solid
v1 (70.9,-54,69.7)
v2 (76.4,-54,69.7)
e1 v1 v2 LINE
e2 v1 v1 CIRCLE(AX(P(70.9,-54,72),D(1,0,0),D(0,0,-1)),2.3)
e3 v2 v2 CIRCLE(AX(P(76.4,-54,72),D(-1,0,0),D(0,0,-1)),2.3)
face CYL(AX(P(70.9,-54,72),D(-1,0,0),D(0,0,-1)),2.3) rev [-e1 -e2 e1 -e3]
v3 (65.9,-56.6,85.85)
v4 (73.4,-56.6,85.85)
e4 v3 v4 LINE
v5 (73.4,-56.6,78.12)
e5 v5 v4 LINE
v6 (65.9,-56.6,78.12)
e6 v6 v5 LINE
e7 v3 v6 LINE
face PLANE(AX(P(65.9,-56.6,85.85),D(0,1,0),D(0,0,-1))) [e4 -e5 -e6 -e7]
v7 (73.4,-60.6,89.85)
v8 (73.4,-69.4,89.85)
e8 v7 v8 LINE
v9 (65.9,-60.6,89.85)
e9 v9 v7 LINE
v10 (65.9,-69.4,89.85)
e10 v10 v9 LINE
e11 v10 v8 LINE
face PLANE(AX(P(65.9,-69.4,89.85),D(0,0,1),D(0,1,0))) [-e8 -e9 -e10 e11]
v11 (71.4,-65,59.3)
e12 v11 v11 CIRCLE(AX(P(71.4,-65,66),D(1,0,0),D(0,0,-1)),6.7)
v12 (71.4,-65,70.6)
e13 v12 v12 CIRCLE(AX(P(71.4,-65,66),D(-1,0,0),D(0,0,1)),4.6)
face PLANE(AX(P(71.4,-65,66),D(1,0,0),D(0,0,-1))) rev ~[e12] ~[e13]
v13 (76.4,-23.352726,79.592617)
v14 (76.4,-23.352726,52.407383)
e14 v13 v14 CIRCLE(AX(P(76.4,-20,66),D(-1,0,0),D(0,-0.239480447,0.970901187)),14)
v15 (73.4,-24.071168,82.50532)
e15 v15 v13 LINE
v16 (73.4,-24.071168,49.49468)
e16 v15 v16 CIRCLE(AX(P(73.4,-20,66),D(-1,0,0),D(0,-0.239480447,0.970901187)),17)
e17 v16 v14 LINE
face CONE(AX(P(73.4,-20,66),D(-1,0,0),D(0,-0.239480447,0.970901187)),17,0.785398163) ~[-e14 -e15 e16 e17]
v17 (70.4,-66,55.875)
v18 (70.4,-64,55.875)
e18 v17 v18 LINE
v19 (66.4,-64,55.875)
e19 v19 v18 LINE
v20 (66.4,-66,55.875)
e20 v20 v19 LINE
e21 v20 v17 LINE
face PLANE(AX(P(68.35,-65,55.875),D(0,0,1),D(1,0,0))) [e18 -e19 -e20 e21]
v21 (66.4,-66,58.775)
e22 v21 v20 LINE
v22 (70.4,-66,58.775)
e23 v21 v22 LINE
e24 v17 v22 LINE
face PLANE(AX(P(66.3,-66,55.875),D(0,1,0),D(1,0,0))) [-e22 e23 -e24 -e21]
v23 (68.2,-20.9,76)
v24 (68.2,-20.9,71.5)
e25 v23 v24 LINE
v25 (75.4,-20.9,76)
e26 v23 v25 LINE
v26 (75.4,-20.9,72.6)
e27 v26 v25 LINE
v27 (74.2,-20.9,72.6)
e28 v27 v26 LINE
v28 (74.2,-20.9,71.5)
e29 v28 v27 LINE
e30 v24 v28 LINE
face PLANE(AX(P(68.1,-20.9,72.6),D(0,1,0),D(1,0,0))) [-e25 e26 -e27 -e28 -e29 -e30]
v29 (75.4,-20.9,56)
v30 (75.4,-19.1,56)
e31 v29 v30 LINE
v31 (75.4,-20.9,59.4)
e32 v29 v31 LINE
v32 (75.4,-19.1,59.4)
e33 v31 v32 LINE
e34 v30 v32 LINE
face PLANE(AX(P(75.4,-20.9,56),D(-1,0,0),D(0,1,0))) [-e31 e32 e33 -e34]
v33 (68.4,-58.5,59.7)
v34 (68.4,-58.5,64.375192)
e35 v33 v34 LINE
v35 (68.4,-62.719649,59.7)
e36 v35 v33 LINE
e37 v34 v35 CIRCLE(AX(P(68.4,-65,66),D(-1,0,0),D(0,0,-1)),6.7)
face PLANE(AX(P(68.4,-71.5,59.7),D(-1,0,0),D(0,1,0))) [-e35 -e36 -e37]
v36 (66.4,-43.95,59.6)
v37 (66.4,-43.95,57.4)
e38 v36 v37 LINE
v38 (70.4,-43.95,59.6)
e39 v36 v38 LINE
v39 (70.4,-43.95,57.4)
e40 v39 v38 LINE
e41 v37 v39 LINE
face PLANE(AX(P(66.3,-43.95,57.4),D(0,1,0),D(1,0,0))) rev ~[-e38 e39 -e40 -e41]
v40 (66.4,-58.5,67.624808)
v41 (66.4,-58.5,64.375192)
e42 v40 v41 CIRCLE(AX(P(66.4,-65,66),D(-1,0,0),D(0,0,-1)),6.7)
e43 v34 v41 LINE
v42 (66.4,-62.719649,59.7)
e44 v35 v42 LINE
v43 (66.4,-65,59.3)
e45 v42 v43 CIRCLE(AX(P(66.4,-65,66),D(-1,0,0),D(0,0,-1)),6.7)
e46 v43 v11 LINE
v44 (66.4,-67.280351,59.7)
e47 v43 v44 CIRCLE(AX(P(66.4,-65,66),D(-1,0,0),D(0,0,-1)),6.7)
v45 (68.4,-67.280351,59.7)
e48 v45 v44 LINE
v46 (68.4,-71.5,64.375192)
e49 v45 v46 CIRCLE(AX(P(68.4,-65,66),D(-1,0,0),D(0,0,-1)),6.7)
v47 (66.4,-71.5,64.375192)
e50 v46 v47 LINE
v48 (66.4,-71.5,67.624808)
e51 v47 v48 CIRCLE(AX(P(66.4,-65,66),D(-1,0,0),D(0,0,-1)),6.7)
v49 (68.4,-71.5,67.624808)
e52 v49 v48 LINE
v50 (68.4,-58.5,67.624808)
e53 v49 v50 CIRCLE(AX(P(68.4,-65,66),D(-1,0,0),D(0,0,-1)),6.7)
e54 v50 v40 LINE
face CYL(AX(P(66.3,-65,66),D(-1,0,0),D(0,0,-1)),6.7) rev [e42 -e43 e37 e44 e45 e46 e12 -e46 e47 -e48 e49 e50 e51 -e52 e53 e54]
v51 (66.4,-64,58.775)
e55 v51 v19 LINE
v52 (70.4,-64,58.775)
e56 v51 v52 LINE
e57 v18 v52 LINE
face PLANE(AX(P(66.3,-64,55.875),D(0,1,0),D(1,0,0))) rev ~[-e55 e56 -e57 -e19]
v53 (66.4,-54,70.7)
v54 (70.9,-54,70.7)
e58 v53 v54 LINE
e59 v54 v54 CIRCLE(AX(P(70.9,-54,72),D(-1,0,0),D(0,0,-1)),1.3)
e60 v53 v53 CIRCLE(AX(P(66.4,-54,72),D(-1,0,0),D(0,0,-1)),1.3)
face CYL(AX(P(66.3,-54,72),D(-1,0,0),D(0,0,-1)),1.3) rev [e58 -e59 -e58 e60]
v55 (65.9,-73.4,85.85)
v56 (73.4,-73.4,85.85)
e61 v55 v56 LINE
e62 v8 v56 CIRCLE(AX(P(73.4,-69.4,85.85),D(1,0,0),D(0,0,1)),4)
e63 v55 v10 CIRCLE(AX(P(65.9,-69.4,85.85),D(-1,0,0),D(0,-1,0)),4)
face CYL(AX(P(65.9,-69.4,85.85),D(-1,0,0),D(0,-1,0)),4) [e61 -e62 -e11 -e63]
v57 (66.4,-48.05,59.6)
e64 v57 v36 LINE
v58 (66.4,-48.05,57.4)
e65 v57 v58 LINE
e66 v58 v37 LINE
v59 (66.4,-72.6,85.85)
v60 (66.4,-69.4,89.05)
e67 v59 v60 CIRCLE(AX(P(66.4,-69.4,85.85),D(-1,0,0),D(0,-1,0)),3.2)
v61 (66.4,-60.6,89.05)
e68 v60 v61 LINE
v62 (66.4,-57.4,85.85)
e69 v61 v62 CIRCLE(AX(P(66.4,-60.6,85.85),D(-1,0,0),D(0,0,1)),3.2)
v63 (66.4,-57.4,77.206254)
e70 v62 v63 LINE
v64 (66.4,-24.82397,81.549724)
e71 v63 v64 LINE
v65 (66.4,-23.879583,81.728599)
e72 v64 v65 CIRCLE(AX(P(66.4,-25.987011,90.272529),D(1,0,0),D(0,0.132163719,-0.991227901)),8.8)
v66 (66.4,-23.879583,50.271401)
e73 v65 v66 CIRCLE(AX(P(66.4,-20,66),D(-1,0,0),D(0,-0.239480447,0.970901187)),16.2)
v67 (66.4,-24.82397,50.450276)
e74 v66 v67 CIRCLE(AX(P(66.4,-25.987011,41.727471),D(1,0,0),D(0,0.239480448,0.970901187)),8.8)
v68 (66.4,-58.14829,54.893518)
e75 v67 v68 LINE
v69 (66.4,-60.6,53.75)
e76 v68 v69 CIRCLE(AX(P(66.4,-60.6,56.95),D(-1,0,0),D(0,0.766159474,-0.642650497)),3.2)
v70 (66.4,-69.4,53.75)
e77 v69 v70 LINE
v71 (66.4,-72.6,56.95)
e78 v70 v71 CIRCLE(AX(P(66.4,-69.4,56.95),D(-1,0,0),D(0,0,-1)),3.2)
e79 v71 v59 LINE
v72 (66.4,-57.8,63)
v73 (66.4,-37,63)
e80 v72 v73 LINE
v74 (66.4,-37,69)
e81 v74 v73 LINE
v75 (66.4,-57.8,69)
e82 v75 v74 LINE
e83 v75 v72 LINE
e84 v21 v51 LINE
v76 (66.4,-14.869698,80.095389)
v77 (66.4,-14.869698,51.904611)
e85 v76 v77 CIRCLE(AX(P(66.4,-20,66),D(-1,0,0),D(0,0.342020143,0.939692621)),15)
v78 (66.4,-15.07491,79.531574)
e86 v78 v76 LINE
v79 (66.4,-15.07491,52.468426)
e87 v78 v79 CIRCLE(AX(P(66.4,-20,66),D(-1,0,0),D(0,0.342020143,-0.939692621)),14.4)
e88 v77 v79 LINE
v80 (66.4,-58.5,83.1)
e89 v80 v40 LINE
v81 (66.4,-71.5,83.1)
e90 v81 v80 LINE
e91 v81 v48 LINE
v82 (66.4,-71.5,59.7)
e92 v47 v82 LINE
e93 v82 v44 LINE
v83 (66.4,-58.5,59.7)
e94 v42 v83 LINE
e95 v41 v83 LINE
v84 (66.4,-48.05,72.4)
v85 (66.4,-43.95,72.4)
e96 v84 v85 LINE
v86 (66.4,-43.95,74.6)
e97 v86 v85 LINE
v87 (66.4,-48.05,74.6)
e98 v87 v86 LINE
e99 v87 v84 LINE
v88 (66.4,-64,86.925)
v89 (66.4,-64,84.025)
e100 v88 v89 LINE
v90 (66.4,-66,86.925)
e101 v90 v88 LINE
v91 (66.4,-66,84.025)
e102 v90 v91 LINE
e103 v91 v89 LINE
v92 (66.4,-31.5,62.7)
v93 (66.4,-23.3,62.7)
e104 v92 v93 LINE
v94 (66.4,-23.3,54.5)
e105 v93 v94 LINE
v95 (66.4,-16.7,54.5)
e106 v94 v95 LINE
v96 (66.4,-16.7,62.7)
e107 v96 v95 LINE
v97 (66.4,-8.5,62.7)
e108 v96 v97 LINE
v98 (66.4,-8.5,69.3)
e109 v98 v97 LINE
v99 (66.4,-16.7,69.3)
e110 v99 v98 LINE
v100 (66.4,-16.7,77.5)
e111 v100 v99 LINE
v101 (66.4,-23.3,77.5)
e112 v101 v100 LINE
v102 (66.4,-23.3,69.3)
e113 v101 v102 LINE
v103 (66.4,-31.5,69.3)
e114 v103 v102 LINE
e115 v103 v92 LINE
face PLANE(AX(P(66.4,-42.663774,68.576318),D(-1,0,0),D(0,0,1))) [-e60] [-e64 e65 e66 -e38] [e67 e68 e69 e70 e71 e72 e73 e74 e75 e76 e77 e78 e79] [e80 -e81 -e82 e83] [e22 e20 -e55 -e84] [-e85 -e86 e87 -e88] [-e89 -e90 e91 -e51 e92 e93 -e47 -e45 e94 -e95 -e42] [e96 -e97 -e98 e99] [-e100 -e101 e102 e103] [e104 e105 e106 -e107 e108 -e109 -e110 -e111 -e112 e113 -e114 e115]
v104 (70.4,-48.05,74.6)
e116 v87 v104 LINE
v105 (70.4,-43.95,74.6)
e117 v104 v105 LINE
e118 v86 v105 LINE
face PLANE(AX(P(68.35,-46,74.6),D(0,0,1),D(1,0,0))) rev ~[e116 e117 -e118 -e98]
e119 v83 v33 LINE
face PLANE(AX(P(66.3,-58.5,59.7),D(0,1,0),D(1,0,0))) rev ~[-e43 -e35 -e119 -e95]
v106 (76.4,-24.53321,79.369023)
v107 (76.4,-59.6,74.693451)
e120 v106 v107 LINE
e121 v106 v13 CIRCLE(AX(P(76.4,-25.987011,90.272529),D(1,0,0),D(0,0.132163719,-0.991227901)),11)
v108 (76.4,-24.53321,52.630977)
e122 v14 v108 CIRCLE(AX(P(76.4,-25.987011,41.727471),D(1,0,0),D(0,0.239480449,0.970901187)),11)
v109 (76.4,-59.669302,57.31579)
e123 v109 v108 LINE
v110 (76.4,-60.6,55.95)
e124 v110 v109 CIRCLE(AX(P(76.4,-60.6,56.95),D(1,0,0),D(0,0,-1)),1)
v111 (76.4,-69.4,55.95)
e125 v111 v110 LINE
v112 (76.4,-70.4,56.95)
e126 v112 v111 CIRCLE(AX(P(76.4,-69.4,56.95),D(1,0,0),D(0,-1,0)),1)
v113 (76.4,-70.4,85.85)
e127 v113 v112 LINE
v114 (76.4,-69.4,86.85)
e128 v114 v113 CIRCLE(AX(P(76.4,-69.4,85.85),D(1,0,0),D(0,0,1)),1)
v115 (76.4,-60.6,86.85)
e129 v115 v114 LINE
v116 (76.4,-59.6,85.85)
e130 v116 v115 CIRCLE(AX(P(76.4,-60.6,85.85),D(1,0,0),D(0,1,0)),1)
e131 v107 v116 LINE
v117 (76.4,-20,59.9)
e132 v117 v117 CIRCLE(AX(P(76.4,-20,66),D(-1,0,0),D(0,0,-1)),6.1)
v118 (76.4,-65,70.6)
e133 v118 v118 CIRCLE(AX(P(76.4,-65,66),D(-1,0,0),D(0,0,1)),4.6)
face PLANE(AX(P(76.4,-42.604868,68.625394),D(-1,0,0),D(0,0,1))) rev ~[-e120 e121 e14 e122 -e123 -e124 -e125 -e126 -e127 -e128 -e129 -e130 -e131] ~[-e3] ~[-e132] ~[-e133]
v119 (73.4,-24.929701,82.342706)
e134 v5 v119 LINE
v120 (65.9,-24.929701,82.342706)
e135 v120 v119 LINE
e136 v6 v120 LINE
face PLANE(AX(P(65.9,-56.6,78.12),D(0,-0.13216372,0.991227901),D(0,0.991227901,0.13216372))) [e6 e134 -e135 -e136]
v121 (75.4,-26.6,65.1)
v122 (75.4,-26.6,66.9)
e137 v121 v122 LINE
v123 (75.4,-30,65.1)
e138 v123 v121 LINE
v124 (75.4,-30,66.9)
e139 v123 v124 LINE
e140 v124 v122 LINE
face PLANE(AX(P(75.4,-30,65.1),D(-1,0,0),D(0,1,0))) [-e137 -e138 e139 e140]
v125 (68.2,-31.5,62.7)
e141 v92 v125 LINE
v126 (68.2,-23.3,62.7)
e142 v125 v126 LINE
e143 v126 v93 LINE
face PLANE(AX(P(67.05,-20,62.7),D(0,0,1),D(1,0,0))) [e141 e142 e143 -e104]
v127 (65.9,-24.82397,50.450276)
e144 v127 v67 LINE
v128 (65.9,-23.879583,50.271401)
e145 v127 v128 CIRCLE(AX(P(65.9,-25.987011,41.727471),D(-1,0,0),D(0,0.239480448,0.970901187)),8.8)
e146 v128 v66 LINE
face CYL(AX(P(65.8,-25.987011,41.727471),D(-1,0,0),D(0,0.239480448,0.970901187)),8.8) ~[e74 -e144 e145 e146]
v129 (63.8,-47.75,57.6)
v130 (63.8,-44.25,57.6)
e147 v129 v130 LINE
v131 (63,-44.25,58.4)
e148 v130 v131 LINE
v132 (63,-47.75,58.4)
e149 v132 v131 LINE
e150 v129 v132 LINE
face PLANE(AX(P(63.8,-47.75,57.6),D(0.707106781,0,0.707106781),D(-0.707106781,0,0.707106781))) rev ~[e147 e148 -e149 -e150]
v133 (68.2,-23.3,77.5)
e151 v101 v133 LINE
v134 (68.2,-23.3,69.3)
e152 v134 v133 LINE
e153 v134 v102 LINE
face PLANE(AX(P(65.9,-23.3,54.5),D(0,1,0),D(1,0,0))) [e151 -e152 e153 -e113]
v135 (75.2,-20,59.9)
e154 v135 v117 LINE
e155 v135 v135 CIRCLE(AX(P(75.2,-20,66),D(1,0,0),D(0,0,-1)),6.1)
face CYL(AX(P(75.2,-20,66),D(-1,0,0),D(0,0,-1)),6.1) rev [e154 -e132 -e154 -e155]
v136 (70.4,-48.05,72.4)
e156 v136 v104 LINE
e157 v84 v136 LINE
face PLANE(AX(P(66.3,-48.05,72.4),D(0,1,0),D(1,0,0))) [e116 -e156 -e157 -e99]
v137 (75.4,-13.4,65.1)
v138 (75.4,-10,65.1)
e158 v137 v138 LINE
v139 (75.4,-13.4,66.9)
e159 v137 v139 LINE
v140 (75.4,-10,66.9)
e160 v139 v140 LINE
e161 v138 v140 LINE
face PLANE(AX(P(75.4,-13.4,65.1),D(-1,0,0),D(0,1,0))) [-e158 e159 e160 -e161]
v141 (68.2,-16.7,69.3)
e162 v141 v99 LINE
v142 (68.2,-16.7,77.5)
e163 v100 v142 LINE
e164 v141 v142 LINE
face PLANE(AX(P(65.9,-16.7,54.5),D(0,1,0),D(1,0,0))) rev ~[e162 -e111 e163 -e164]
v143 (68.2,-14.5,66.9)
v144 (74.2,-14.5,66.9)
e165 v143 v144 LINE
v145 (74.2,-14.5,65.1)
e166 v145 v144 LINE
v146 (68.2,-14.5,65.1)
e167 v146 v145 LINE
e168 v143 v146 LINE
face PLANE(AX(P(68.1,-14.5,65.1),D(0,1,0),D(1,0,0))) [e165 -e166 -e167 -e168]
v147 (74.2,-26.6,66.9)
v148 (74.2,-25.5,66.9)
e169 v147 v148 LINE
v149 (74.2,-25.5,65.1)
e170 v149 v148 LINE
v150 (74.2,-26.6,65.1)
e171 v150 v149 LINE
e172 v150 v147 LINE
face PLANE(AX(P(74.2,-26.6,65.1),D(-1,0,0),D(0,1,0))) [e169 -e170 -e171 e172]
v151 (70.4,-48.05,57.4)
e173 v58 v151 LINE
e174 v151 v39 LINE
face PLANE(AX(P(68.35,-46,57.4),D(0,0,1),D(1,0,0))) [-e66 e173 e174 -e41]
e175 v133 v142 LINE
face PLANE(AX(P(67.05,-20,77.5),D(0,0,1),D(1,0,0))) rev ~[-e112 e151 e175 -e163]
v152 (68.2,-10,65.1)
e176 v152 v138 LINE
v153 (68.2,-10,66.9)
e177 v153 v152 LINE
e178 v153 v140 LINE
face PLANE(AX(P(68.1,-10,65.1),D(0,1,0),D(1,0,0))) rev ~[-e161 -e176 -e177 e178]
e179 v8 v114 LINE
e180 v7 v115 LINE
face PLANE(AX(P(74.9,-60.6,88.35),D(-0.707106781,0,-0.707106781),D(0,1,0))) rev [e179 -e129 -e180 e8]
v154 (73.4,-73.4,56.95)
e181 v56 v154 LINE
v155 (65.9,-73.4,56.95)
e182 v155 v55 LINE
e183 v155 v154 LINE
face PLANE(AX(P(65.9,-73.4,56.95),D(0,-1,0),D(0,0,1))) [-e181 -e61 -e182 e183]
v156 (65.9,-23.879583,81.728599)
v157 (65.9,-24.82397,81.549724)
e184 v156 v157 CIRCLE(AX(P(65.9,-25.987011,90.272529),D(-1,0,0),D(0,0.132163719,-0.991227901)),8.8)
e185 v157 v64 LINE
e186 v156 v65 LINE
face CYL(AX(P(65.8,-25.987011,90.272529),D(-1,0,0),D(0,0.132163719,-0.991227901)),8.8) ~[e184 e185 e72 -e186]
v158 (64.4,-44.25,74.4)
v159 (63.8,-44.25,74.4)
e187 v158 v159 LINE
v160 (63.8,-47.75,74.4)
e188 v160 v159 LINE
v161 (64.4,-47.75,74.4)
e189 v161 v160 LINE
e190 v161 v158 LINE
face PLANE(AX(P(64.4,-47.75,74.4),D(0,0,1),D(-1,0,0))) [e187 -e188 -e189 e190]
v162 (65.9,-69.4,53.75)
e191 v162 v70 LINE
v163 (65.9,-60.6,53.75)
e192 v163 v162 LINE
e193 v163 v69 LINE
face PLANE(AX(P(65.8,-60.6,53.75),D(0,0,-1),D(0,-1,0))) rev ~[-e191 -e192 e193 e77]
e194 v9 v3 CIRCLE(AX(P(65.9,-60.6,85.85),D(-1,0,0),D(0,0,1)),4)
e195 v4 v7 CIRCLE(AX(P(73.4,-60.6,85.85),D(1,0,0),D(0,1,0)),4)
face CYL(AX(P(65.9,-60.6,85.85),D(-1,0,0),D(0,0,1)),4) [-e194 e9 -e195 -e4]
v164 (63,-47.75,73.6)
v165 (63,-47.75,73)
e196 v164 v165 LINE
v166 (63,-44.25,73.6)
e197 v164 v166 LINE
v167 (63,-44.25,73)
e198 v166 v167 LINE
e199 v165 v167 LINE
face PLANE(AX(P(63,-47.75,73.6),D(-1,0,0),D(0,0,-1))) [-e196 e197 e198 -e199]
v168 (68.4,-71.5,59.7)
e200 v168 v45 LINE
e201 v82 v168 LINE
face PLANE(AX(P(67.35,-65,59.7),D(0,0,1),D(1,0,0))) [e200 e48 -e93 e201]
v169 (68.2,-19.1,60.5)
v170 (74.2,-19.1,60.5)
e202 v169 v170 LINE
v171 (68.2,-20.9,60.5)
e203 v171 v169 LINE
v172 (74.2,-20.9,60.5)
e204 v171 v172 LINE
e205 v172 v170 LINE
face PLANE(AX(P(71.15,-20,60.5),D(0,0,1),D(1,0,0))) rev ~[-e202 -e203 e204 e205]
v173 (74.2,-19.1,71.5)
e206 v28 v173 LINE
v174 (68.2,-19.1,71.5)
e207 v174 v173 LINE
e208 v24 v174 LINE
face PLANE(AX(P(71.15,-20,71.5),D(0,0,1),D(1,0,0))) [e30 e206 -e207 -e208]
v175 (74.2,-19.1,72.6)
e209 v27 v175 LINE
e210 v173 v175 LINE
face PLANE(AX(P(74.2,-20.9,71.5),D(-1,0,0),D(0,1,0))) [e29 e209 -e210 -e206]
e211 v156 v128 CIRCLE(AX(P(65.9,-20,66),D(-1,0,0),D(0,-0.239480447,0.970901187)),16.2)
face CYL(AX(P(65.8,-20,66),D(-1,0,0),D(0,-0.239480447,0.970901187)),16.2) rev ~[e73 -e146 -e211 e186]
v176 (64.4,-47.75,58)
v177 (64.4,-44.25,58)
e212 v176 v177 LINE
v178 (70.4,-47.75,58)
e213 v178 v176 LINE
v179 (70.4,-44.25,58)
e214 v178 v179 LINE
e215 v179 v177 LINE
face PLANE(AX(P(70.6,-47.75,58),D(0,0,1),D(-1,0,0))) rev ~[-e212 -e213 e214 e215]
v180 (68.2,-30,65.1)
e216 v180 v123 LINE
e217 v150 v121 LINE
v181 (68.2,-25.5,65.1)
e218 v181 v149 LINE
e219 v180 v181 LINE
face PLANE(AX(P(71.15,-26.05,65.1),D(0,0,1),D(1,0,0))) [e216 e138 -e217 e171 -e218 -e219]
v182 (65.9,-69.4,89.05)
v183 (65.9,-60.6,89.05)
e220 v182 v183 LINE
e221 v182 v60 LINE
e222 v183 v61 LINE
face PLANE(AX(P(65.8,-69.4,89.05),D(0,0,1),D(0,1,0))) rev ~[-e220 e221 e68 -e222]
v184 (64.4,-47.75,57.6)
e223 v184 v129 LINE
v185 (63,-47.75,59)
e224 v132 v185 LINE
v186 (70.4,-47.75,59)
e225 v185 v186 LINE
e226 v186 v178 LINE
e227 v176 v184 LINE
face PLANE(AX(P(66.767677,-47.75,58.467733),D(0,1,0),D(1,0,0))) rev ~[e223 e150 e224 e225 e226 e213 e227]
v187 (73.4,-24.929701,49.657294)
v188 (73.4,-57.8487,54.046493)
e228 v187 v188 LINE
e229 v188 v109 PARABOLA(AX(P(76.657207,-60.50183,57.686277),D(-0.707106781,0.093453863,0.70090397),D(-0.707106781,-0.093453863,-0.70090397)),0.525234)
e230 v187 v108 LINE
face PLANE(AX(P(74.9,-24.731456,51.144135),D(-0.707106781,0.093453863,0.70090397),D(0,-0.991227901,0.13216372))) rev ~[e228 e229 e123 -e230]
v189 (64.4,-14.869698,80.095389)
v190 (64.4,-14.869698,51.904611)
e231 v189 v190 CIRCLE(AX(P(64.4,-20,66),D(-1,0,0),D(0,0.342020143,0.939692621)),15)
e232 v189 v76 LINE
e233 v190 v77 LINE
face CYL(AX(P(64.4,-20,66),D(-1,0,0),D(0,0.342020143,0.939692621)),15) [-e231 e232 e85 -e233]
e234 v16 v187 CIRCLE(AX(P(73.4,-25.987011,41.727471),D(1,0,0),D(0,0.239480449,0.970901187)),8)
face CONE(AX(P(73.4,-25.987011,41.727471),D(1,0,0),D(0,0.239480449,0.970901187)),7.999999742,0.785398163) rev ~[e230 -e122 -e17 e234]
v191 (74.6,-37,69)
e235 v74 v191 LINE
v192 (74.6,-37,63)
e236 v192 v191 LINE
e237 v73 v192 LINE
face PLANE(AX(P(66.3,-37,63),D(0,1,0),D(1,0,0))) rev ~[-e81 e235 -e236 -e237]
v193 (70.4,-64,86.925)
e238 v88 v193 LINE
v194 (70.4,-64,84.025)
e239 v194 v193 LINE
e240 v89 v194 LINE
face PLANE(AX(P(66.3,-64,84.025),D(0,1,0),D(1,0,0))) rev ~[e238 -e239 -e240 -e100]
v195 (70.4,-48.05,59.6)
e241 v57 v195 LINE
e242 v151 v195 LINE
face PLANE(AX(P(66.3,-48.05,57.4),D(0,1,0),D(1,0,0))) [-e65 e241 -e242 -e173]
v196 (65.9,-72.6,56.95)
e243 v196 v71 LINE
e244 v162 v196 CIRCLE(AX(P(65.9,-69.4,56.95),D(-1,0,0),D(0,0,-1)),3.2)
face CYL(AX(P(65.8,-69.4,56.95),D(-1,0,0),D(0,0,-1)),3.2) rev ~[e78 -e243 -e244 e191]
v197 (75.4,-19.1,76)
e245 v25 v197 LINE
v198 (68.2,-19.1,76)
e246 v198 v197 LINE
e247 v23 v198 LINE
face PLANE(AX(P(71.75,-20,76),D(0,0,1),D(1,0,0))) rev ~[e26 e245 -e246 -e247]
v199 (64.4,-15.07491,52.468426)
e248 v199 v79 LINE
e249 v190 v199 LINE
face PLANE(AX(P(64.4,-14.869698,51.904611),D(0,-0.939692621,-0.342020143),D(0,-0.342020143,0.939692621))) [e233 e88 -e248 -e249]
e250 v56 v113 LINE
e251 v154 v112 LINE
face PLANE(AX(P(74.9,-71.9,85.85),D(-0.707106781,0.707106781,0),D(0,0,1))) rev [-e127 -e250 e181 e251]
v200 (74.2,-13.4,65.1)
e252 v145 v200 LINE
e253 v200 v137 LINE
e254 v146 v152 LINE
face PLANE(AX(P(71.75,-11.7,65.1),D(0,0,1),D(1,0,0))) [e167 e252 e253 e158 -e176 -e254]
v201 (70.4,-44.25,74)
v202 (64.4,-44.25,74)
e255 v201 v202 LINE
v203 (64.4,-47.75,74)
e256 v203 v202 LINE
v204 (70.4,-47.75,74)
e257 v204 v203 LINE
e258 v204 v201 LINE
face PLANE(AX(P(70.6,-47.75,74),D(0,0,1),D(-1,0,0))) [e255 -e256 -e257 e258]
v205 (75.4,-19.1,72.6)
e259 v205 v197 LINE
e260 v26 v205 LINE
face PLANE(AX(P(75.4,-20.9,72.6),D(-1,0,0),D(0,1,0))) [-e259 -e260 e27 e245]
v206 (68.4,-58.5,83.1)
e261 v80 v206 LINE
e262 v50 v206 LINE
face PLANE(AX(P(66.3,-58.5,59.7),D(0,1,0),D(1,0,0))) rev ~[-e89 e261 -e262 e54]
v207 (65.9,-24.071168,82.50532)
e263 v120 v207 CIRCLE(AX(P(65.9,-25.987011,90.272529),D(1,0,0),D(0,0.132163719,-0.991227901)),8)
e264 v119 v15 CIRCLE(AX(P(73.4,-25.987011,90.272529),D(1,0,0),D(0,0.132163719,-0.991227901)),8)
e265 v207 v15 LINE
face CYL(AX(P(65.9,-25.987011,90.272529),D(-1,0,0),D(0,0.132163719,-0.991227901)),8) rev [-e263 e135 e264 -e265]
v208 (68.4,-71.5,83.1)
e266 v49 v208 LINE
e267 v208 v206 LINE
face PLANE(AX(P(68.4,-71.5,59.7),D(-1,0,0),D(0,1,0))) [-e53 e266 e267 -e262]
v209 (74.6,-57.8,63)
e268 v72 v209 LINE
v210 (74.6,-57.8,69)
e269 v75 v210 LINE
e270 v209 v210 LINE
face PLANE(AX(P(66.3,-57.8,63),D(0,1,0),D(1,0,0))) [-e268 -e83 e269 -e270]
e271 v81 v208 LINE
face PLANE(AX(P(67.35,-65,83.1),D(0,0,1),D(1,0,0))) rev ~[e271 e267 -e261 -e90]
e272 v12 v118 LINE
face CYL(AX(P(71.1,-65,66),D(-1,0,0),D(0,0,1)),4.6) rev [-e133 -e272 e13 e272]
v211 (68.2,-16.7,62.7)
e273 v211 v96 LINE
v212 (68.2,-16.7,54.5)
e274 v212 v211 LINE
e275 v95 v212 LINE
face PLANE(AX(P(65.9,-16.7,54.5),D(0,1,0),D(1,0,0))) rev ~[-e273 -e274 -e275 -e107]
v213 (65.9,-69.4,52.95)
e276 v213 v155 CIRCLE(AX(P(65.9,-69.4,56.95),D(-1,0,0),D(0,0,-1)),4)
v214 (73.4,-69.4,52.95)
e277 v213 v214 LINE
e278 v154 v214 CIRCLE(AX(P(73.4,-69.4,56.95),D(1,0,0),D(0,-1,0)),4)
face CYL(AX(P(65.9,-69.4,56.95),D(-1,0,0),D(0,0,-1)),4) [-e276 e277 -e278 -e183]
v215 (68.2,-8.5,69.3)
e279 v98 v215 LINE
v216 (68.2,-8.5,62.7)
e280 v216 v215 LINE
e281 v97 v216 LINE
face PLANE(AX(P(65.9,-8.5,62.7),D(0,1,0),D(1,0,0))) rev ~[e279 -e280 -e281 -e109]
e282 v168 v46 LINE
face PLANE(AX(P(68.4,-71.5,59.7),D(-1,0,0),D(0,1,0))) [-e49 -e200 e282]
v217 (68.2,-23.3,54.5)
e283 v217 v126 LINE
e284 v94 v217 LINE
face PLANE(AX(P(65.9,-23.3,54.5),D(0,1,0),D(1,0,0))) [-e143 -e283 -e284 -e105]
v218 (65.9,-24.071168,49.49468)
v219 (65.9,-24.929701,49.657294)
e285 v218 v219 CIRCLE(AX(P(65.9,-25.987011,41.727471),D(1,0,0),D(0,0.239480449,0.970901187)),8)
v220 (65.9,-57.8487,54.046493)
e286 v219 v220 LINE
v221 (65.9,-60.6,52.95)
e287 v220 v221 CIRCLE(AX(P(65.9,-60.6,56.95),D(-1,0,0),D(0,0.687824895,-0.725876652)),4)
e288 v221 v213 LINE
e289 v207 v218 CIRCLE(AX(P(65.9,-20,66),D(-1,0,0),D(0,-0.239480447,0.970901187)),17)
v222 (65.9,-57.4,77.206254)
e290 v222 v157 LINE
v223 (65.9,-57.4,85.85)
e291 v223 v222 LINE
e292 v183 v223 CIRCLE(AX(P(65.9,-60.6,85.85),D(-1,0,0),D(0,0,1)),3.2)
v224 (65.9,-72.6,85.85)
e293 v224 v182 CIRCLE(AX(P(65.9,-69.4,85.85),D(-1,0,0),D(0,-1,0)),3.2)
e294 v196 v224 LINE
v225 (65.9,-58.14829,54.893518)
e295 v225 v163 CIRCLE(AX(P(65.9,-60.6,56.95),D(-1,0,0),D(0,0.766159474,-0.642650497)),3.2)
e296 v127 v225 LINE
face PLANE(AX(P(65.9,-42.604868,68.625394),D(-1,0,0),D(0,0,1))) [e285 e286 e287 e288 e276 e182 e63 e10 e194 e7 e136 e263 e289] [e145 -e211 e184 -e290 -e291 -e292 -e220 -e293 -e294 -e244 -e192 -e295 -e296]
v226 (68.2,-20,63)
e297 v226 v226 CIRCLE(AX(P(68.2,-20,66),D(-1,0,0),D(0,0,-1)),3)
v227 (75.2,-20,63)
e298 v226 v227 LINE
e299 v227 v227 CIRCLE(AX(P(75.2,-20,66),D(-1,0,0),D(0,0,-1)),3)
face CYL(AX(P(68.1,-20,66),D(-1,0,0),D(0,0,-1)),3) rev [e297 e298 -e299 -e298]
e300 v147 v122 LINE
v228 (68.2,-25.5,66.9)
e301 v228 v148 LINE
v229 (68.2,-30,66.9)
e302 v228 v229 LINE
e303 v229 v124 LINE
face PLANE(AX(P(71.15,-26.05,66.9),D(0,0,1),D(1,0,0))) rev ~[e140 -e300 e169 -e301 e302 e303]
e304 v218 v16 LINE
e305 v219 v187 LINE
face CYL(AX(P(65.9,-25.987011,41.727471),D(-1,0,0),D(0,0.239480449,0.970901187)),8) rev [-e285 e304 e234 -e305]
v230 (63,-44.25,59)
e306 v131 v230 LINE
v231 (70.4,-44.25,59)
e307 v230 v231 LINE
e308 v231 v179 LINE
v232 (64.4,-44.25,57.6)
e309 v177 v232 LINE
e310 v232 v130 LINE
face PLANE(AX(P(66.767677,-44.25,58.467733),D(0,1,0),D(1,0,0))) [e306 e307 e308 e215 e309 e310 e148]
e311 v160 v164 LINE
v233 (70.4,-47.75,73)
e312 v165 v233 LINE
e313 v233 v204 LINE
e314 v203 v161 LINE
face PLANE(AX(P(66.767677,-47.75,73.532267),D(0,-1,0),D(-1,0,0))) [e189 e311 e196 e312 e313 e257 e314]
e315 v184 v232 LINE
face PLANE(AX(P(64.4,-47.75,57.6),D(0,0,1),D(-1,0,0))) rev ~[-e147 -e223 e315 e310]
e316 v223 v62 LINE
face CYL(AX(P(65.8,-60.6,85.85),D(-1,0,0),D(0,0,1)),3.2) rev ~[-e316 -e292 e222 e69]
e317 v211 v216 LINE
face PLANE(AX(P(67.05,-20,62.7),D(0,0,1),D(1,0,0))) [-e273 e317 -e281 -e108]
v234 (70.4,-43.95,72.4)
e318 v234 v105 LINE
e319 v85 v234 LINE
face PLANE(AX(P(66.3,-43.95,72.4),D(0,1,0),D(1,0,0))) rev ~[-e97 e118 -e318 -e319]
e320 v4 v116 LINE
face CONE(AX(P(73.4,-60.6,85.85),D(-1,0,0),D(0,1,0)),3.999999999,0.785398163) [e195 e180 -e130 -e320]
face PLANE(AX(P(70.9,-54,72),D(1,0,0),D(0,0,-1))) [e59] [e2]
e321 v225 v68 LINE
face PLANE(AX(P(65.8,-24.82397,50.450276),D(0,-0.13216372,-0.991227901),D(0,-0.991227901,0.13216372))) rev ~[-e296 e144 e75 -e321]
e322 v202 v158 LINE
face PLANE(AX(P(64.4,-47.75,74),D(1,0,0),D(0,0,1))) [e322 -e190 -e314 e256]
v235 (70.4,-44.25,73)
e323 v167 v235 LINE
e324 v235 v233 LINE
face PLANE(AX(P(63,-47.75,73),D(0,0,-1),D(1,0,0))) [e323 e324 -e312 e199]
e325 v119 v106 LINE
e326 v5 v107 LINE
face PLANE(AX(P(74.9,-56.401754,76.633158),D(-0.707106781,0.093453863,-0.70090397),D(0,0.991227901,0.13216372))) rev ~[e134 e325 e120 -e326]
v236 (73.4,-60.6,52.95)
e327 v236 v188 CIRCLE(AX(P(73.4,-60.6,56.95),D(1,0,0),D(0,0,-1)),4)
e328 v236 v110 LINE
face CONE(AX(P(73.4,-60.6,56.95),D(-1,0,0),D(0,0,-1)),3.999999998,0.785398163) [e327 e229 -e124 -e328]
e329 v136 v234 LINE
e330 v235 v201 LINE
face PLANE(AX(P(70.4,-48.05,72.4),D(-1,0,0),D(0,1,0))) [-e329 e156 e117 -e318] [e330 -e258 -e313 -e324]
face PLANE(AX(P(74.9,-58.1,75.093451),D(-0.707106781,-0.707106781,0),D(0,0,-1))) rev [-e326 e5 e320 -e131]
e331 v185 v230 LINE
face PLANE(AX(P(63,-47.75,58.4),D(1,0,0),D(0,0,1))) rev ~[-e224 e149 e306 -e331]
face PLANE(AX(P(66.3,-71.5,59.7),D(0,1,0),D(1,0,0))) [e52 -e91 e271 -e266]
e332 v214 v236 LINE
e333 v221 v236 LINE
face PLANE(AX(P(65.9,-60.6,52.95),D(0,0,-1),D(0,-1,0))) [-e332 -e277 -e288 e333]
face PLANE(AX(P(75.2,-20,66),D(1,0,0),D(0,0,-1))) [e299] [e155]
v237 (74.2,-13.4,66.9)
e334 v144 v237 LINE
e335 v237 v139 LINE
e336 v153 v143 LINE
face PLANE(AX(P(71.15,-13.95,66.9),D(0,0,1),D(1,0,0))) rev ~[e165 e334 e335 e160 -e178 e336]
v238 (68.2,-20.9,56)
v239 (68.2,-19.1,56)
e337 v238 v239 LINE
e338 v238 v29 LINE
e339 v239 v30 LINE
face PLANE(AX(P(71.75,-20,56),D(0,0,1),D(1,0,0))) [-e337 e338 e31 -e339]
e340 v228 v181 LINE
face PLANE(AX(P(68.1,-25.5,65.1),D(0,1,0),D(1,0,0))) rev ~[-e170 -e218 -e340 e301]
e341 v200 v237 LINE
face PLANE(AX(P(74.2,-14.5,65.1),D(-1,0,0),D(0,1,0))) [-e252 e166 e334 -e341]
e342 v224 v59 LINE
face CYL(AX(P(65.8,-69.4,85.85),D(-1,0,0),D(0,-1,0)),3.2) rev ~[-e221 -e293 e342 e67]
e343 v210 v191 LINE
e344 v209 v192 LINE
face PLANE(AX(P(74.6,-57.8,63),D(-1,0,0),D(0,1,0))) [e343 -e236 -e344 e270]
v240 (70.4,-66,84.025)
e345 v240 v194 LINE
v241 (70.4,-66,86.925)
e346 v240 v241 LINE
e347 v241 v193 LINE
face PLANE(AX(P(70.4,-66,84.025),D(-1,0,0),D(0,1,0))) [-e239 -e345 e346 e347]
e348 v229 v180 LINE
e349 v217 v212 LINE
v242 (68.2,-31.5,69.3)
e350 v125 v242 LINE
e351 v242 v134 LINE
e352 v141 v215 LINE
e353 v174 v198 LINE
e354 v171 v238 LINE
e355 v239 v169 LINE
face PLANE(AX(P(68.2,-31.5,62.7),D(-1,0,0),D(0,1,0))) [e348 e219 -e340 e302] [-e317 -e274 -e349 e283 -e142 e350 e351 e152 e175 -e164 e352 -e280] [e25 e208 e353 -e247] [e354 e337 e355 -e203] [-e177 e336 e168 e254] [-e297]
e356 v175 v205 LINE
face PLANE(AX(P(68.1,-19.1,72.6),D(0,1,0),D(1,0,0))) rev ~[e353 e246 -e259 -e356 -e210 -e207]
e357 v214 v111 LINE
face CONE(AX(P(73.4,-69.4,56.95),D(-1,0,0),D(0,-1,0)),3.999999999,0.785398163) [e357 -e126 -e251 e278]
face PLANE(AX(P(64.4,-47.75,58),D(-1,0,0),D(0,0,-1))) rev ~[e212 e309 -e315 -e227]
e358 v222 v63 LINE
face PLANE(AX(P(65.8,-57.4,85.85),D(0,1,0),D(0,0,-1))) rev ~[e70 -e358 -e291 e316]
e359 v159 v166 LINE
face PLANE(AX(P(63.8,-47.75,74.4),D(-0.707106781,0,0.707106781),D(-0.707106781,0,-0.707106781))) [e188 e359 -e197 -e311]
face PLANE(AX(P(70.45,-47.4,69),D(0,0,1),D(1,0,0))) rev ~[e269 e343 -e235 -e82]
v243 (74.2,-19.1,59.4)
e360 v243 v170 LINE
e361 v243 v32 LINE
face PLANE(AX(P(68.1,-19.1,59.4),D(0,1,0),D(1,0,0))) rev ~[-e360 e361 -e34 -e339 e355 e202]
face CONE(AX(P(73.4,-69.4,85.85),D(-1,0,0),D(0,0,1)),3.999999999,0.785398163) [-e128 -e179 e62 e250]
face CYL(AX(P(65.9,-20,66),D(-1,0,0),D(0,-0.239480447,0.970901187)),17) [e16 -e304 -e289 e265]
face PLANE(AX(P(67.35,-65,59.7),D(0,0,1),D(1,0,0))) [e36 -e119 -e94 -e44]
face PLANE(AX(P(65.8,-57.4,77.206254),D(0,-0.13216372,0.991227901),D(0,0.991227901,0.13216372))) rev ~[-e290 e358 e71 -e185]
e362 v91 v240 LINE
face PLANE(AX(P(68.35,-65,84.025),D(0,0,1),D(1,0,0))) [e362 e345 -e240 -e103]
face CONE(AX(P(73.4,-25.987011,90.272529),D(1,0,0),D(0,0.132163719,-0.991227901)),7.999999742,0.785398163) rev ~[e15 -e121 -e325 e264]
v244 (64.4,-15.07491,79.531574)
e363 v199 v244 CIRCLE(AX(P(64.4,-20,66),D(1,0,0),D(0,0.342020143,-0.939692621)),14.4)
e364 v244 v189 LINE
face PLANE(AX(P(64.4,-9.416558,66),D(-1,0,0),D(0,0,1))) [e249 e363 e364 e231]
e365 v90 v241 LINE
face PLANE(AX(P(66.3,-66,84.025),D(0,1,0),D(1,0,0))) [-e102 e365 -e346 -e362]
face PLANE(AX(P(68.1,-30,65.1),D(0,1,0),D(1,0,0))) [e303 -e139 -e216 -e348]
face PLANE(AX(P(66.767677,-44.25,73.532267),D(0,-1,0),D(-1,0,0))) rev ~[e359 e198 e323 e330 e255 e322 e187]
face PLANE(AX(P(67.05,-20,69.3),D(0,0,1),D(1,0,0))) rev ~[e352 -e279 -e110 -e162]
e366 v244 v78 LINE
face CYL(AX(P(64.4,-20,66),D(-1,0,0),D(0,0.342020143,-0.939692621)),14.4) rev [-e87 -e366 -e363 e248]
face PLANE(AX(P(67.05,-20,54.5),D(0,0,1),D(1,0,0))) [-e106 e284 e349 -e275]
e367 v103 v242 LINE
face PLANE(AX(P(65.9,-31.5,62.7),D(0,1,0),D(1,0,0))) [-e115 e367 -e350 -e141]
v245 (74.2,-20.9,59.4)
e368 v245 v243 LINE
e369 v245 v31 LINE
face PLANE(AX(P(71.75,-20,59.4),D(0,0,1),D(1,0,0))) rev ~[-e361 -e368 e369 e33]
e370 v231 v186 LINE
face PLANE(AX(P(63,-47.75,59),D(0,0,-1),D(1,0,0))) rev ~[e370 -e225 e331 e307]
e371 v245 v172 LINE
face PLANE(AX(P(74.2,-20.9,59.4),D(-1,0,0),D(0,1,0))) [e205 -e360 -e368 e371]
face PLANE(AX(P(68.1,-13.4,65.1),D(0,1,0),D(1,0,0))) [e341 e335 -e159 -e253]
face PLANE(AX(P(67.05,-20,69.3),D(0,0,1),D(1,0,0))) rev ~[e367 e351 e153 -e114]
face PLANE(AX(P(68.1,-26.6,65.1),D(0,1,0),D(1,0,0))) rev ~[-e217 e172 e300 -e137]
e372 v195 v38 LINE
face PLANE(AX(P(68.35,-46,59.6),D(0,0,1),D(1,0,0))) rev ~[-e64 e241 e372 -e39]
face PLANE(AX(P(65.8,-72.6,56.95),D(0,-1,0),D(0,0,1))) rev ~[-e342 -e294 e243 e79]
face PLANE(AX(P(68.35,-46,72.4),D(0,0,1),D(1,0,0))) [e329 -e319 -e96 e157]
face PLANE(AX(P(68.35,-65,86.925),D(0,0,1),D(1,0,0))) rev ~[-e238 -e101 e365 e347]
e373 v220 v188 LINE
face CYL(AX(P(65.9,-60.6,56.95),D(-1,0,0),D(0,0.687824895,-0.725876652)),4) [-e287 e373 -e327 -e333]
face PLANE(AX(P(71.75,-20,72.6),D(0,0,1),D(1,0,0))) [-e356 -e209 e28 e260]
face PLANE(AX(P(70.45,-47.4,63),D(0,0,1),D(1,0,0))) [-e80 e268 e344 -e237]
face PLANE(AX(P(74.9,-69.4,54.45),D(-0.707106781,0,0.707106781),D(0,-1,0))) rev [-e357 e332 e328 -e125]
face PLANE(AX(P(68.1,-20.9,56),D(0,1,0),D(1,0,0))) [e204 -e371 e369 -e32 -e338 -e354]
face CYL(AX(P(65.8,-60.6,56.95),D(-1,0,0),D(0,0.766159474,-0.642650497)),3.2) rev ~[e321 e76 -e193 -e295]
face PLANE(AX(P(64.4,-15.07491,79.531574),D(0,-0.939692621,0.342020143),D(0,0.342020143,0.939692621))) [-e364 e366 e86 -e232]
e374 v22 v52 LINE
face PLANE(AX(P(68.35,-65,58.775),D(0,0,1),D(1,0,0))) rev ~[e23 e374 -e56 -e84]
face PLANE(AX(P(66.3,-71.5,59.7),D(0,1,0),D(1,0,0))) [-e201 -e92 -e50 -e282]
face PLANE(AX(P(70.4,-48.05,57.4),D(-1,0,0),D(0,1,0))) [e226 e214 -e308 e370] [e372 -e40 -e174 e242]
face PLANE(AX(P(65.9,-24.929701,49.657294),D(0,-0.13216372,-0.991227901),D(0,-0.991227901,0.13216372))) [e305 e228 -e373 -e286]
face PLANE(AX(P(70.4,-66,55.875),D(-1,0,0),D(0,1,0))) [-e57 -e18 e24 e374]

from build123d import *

# Parameters (mm, degrees)
BOSS_EXTRUDE1_START  = 65.9
BOSS_EXTRUDE1_DEPTH  = 10.5
BOSS_EXTRUDE2_START  = 65.8
BOSS_EXTRUDE2_DEPTH  = 0.6
CHAMFER1_SIZE        = 3
CHAMFER2_SIZE        = 3
BOSS_EXTRUDE3_START  = 62.7
SKETCH3_W            = 2.3
SKETCH3_H            = 23
BOSS_EXTRUDE3_DEPTH  = 6.6
BOSS_EXTRUDE4_START  = 54.5
SKETCH4_W            = 2.3
SKETCH4_H            = 6.6
BOSS_EXTRUDE4_DEPTH  = 23
BOSS_EXTRUDE5_START  = 65.9
SKETCH5_R            = 4.6
BOSS_EXTRUDE5_DEPTH  = 2.3
BOSS_EXTRUDE6_START  = 75.2
SKETCH6_R            = 6.1
BOSS_EXTRUDE6_DEPTH  = 1.7
BOSS_EXTRUDE7_START  = 68.1
SKETCH7_R            = 3
BOSS_EXTRUDE7_DEPTH  = 7.2
BOSS_EXTRUDE8_START  = 65.1
SKETCH8_W            = 6.1
SKETCH8_H            = 1.1
BOSS_EXTRUDE8_DEPTH  = 1.8
BOSS_EXTRUDE9_START  = 71.5
SKETCH9_W            = 6.1
SKETCH9_H            = 1.8
BOSS_EXTRUDE9_DEPTH  = 1.1
BOSS_EXTRUDE10_START = 65.1
SKETCH10_W           = 6.1
SKETCH10_H           = 1.1
BOSS_EXTRUDE10_DEPTH = 1.8
BOSS_EXTRUDE11_START = 59.4
SKETCH11_W           = 6.1
SKETCH11_H           = 1.8
BOSS_EXTRUDE11_DEPTH = 1.1
BOSS_EXTRUDE12_START = 65.1
SKETCH12_W           = 7.3
SKETCH12_H           = 3.4
BOSS_EXTRUDE12_DEPTH = 1.8
BOSS_EXTRUDE13_START = 72.6
SKETCH13_W           = 7.3
SKETCH13_H           = 1.8
BOSS_EXTRUDE13_DEPTH = 3.4
BOSS_EXTRUDE14_START = 65.1
SKETCH14_W           = 7.3
SKETCH14_H           = 3.4
BOSS_EXTRUDE14_DEPTH = 1.8
BOSS_EXTRUDE15_START = 56
SKETCH15_W           = 7.3
SKETCH15_H           = 1.8
BOSS_EXTRUDE15_DEPTH = 3.4
BOSS_EXTRUDE16_START = 64.4
BOSS_EXTRUDE16_DEPTH = 2.05
BOSS_EXTRUDE17_START = 55.875
SKETCH17_W           = 4.1
SKETCH17_H           = 2
BOSS_EXTRUDE17_DEPTH = 2.9
BOSS_EXTRUDE18_START = 84.025
SKETCH18_W           = 4.1
SKETCH18_H           = 2
BOSS_EXTRUDE18_DEPTH = 2.9
BOSS_EXTRUDE19_START = 59.7
SKETCH19_W           = 2.1
SKETCH19_H           = 13
BOSS_EXTRUDE19_DEPTH = 23.4
BOSS_EXTRUDE20_START = 66.3
SKETCH20_R           = 6.7
BOSS_EXTRUDE20_DEPTH = 5.1
BOSS_EXTRUDE21_START = 71.1
SKETCH21_R           = 4.6
BOSS_EXTRUDE21_DEPTH = 5.8
BOSS_EXTRUDE22_START = 63
SKETCH22_W           = 8.3
SKETCH22_H           = 20.8
BOSS_EXTRUDE22_DEPTH = 6
BOSS_EXTRUDE23_START = 70.9
SKETCH23_R           = 2.3
BOSS_EXTRUDE23_DEPTH = 6
BOSS_EXTRUDE24_START = 66.3
SKETCH24_R           = 1.3
BOSS_EXTRUDE24_DEPTH = 4.65
BOSS_EXTRUDE25_START = 57.4
SKETCH25_W           = 4.1
SKETCH25_H           = 4.1
BOSS_EXTRUDE25_DEPTH = 2.2
BOSS_EXTRUDE26_START = -47.75
BOSS_EXTRUDE26_DEPTH = 3.5
BOSS_EXTRUDE27_START = 72.4
SKETCH27_W           = 4.1
SKETCH27_H           = 4.1
BOSS_EXTRUDE27_DEPTH = 2.2
BOSS_EXTRUDE28_START = -47.75
BOSS_EXTRUDE28_DEPTH = 3.5


with BuildPart() as part:
    # Sketch1 → Boss-Extrude1 (new body)
    with BuildSketch(Plane(origin=(0, 0, 0), x_dir=(0, 0, -1), z_dir=(1, 0, 0)).offset(BOSS_EXTRUDE1_START)):
        with BuildLine():
            Line((-49.657293521, -24.929701405), (-54.04649339, -57.848700423))
            ThreePointArc((-54.04649339, -57.848700423), (-53.234221048, -59.119126346), (-52.95, -60.6))
            Line((-52.95, -60.6), (-52.95, -69.4))
            ThreePointArc((-52.95, -69.4), (-54.121572875, -72.228427125), (-56.95, -73.4))
            Line((-56.95, -73.4), (-85.85, -73.4))
            ThreePointArc((-85.85, -73.4), (-88.678427125, -72.228427125), (-89.85, -69.4))
            Line((-89.85, -69.4), (-89.85, -60.6))
            ThreePointArc((-89.85, -60.6), (-88.678427125, -57.771572875), (-85.85, -56.6))
            Line((-85.85, -56.6), (-78.12, -56.6))
            Line((-78.12, -56.6), (-82.342706479, -24.929701405))
            ThreePointArc((-82.342706479, -24.929701405), (-82.412282932, -24.49821266), (-82.505320186, -24.071167593))
            ThreePointArc((-82.505320186, -24.071167593), (-66, -3), (-49.494679814, -24.071167593))
            ThreePointArc((-49.494679814, -24.071167593), (-49.587717068, -24.49821266), (-49.657293521, -24.929701405))
        make_face()
    extrude(amount=BOSS_EXTRUDE1_DEPTH)


with BuildPart() as body_2:
    # Sketch2 → Boss-Extrude2 (new body)
    with BuildSketch(Plane(origin=(0, 0, 0), x_dir=(0, 0, -1), z_dir=(1, 0, 0)).offset(BOSS_EXTRUDE2_START)):
        with BuildLine():
            Line((-50.450275841, -24.823970429), (-54.893518409, -58.148289686))
            ThreePointArc((-54.893518409, -58.148289686), (-54.049936113, -59.247362039), (-53.75, -60.6))
            Line((-53.75, -60.6), (-53.75, -69.4))
            ThreePointArc((-53.75, -69.4), (-54.6872583, -71.6627417), (-56.95, -72.6))
            Line((-56.95, -72.6), (-85.85, -72.6))
            ThreePointArc((-85.85, -72.6), (-88.1127417, -71.6627417), (-89.05, -69.4))
            Line((-89.05, -69.4), (-89.05, -60.6))
            ThreePointArc((-89.05, -60.6), (-88.1127417, -58.3372583), (-85.85, -57.4))
            Line((-85.85, -57.4), (-77.206253549, -57.4))
            Line((-77.206253549, -57.4), (-81.549724159, -24.823970429))
            ThreePointArc((-81.549724159, -24.823970429), (-81.626258257, -24.34933281), (-81.728599236, -23.879583236))
            ThreePointArc((-81.728599236, -23.879583236), (-66, -3.8), (-50.271400764, -23.879583236))
            ThreePointArc((-50.271400764, -23.879583236), (-50.373741743, -24.34933281), (-50.450275841, -24.823970429))
        make_face()
    extrude(amount=BOSS_EXTRUDE2_DEPTH)


with BuildPart() as part_1:
    add(part.part)

    # Combine1: cut body 2
    add(body_2.part, mode=Mode.SUBTRACT)

    # Chamfer1
    chamfer1_edges = [part_1.edges().sort_by_distance(p)[0] for p in [
        (76.4, -41.389200914, 51.851893455),
        (76.4, -24.49821266, 49.587717068),
        (76.4, -24.49821266, 82.412282932),
        (76.4, -3, 66),
        (76.4, -40.764850703, 80.23135324),
    ]]
    chamfer(chamfer1_edges, length=CHAMFER1_SIZE)

    # Chamfer2
    chamfer2_edges = [part_1.edges().sort_by_distance(p)[0] for p in [
        (76.4, -56.6, 80.471725405),
        (76.4, -57.771572875, 88.678427125),
        (76.4, -57.786965833, 54.106263237),
        (76.4, -65, 89.85),
        (76.4, -65, 52.95),
        (76.4, -72.228427125, 88.678427125),
        (76.4, -72.228427125, 54.121572875),
        (76.4, -73.4, 71.4),
    ]]
    chamfer(chamfer2_edges, length=CHAMFER2_SIZE)


with BuildPart() as body_2_2:
    # Sketch3 → Boss-Extrude3 (new body)
    with BuildSketch(Plane.XY.offset(BOSS_EXTRUDE3_START)):
        with Locations((67.05, -20)):
            Rectangle(SKETCH3_W, SKETCH3_H)
    extrude(amount=BOSS_EXTRUDE3_DEPTH)


with BuildPart() as part_2:
    add(part_1.part)

    # Combine2: cut body 2 2
    add(body_2_2.part, mode=Mode.SUBTRACT)


with BuildPart() as body_2_3:
    # Sketch4 → Boss-Extrude4 (new body)
    with BuildSketch(Plane.XY.offset(BOSS_EXTRUDE4_START)):
        with Locations((67.05, -20)):
            Rectangle(SKETCH4_W, SKETCH4_H)
    extrude(amount=BOSS_EXTRUDE4_DEPTH)


with BuildPart() as part_3:
    add(part_2.part)

    # Combine3: cut body 2 3
    add(body_2_3.part, mode=Mode.SUBTRACT)


with BuildPart() as body_2_4:
    # Sketch5 → Boss-Extrude5 (new body)
    with BuildSketch(Plane(origin=(0, 0, 0), x_dir=(0, 0, -1), z_dir=(1, 0, 0)).offset(BOSS_EXTRUDE5_START)):
        with Locations((-66, -20)):
            Circle(SKETCH5_R)
    extrude(amount=BOSS_EXTRUDE5_DEPTH)


with BuildPart() as part_4:
    add(part_3.part)

    # Combine4: cut body 2 4
    add(body_2_4.part, mode=Mode.SUBTRACT)


with BuildPart() as body_2_5:
    # Sketch6 → Boss-Extrude6 (new body)
    with BuildSketch(Plane(origin=(0, 0, 0), x_dir=(0, 0, -1), z_dir=(1, 0, 0)).offset(BOSS_EXTRUDE6_START)):
        with Locations((-66, -20)):
            Circle(SKETCH6_R)
    extrude(amount=BOSS_EXTRUDE6_DEPTH)


with BuildPart() as part_5:
    add(part_4.part)

    # Combine5: cut body 2 5
    add(body_2_5.part, mode=Mode.SUBTRACT)


with BuildPart() as body_2_6:
    # Sketch7 → Boss-Extrude7 (new body)
    with BuildSketch(Plane(origin=(0, 0, 0), x_dir=(0, 0, -1), z_dir=(1, 0, 0)).offset(BOSS_EXTRUDE7_START)):
        with Locations((-66, -20)):
            Circle(SKETCH7_R)
    extrude(amount=BOSS_EXTRUDE7_DEPTH)


with BuildPart() as part_6:
    add(part_5.part)

    # Combine6: cut body 2 6
    add(body_2_6.part, mode=Mode.SUBTRACT)


with BuildPart() as body_2_7:
    # Sketch8 → Boss-Extrude8 (new body)
    with BuildSketch(Plane.XY.offset(BOSS_EXTRUDE8_START)):
        with Locations((71.15, -13.95)):
            Rectangle(SKETCH8_W, SKETCH8_H)
    extrude(amount=BOSS_EXTRUDE8_DEPTH)


with BuildPart() as part_7:
    add(part_6.part)

    # Combine7: cut body 2 7
    add(body_2_7.part, mode=Mode.SUBTRACT)


with BuildPart() as body_2_8:
    # Sketch9 → Boss-Extrude9 (new body)
    with BuildSketch(Plane.XY.offset(BOSS_EXTRUDE9_START)):
        with Locations((71.15, -20)):
            Rectangle(SKETCH9_W, SKETCH9_H)
    extrude(amount=BOSS_EXTRUDE9_DEPTH)


with BuildPart() as part_8:
    add(part_7.part)

    # Combine8: cut body 2 8
    add(body_2_8.part, mode=Mode.SUBTRACT)


with BuildPart() as body_2_9:
    # Sketch10 → Boss-Extrude10 (new body)
    with BuildSketch(Plane.XY.offset(BOSS_EXTRUDE10_START)):
        with Locations((71.15, -26.05)):
            Rectangle(SKETCH10_W, SKETCH10_H)
    extrude(amount=BOSS_EXTRUDE10_DEPTH)


with BuildPart() as part_9:
    add(part_8.part)

    # Combine9: cut body 2 9
    add(body_2_9.part, mode=Mode.SUBTRACT)


with BuildPart() as body_2_10:
    # Sketch11 → Boss-Extrude11 (new body)
    with BuildSketch(Plane.XY.offset(BOSS_EXTRUDE11_START)):
        with Locations((71.15, -20)):
            Rectangle(SKETCH11_W, SKETCH11_H)
    extrude(amount=BOSS_EXTRUDE11_DEPTH)


with BuildPart() as part_10:
    add(part_9.part)

    # Combine10: cut body 2 10
    add(body_2_10.part, mode=Mode.SUBTRACT)


with BuildPart() as body_2_11:
    # Sketch12 → Boss-Extrude12 (new body)
    with BuildSketch(Plane.XY.offset(BOSS_EXTRUDE12_START)):
        with Locations((71.75, -11.7)):
            Rectangle(SKETCH12_W, SKETCH12_H)
    extrude(amount=BOSS_EXTRUDE12_DEPTH)


with BuildPart() as part_11:
    add(part_10.part)

    # Combine11: cut body 2 11
    add(body_2_11.part, mode=Mode.SUBTRACT)


with BuildPart() as body_2_12:
    # Sketch13 → Boss-Extrude13 (new body)
    with BuildSketch(Plane.XY.offset(BOSS_EXTRUDE13_START)):
        with Locations((71.75, -20)):
            Rectangle(SKETCH13_W, SKETCH13_H)
    extrude(amount=BOSS_EXTRUDE13_DEPTH)


with BuildPart() as part_12:
    add(part_11.part)

    # Combine12: cut body 2 12
    add(body_2_12.part, mode=Mode.SUBTRACT)


with BuildPart() as body_2_13:
    # Sketch14 → Boss-Extrude14 (new body)
    with BuildSketch(Plane.XY.offset(BOSS_EXTRUDE14_START)):
        with Locations((71.75, -28.3)):
            Rectangle(SKETCH14_W, SKETCH14_H)
    extrude(amount=BOSS_EXTRUDE14_DEPTH)


with BuildPart() as part_13:
    add(part_12.part)

    # Combine13: cut body 2 13
    add(body_2_13.part, mode=Mode.SUBTRACT)


with BuildPart() as body_2_14:
    # Sketch15 → Boss-Extrude15 (new body)
    with BuildSketch(Plane.XY.offset(BOSS_EXTRUDE15_START)):
        with Locations((71.75, -20)):
            Rectangle(SKETCH15_W, SKETCH15_H)
    extrude(amount=BOSS_EXTRUDE15_DEPTH)


with BuildPart() as part_14:
    add(part_13.part)

    # Combine14: cut body 2 14
    add(body_2_14.part, mode=Mode.SUBTRACT)

    # Sketch16 → Boss-Extrude16 (add)
    with BuildSketch(Plane(origin=(0, 0, 0), x_dir=(0, 0, -1), z_dir=(1, 0, 0)).offset(BOSS_EXTRUDE16_START)):
        with BuildLine():
            Line((-51.904610688, -14.86969785), (-52.468426261, -15.074909936))
            ThreePointArc((-52.468426261, -15.074909936), (-66, -5.6), (-79.531573739, -15.074909936))
            Line((-79.531573739, -15.074909936), (-80.095389312, -14.86969785))
            ThreePointArc((-80.095389312, -14.86969785), (-66, -5), (-51.904610688, -14.86969785))
        make_face()
    extrude(amount=BOSS_EXTRUDE16_DEPTH)


with BuildPart() as body_2_15:
    # Sketch17 → Boss-Extrude17 (new body)
    with BuildSketch(Plane.XY.offset(BOSS_EXTRUDE17_START)):
        with Locations((68.35, -65)):
            Rectangle(SKETCH17_W, SKETCH17_H)
    extrude(amount=BOSS_EXTRUDE17_DEPTH)


with BuildPart() as part_15:
    add(part_14.part)

    # Combine15: cut body 2 15
    add(body_2_15.part, mode=Mode.SUBTRACT)


with BuildPart() as body_2_16:
    # Sketch18 → Boss-Extrude18 (new body)
    with BuildSketch(Plane.XY.offset(BOSS_EXTRUDE18_START)):
        with Locations((68.35, -65)):
            Rectangle(SKETCH18_W, SKETCH18_H)
    extrude(amount=BOSS_EXTRUDE18_DEPTH)


with BuildPart() as part_16:
    add(part_15.part)

    # Combine16: cut body 2 16
    add(body_2_16.part, mode=Mode.SUBTRACT)


with BuildPart() as body_2_17:
    # Sketch19 → Boss-Extrude19 (new body)
    with BuildSketch(Plane.XY.offset(BOSS_EXTRUDE19_START)):
        with Locations((67.35, -65)):
            Rectangle(SKETCH19_W, SKETCH19_H)
    extrude(amount=BOSS_EXTRUDE19_DEPTH)


with BuildPart() as part_17:
    add(part_16.part)

    # Combine17: cut body 2 17
    add(body_2_17.part, mode=Mode.SUBTRACT)


with BuildPart() as body_2_18:
    # Sketch20 → Boss-Extrude20 (new body)
    with BuildSketch(Plane(origin=(0, 0, 0), x_dir=(0, 0, -1), z_dir=(1, 0, 0)).offset(BOSS_EXTRUDE20_START)):
        with Locations((-66, -65)):
            Circle(SKETCH20_R)
    extrude(amount=BOSS_EXTRUDE20_DEPTH)


with BuildPart() as part_18:
    add(part_17.part)

    # Combine18: cut body 2 18
    add(body_2_18.part, mode=Mode.SUBTRACT)


with BuildPart() as body_2_19:
    # Sketch21 → Boss-Extrude21 (new body)
    with BuildSketch(Plane(origin=(0, 0, 0), x_dir=(0, 0, -1), z_dir=(1, 0, 0)).offset(BOSS_EXTRUDE21_START)):
        with Locations(Location((-66, -65, 0), (0, 0, 180))):
            Circle(SKETCH21_R)
    extrude(amount=BOSS_EXTRUDE21_DEPTH)


with BuildPart() as part_19:
    add(part_18.part)

    # Combine19: cut body 2 19
    add(body_2_19.part, mode=Mode.SUBTRACT)


with BuildPart() as body_2_20:
    # Sketch22 → Boss-Extrude22 (new body)
    with BuildSketch(Plane.XY.offset(BOSS_EXTRUDE22_START)):
        with Locations((70.45, -47.4)):
            Rectangle(SKETCH22_W, SKETCH22_H)
    extrude(amount=BOSS_EXTRUDE22_DEPTH)


with BuildPart() as part_20:
    add(part_19.part)

    # Combine20: cut body 2 20
    add(body_2_20.part, mode=Mode.SUBTRACT)


with BuildPart() as body_2_21:
    # Sketch23 → Boss-Extrude23 (new body)
    with BuildSketch(Plane(origin=(0, 0, 0), x_dir=(0, 0, -1), z_dir=(1, 0, 0)).offset(BOSS_EXTRUDE23_START)):
        with Locations((-72, -54)):
            Circle(SKETCH23_R)
    extrude(amount=BOSS_EXTRUDE23_DEPTH)


with BuildPart() as part_21:
    add(part_20.part)

    # Combine21: cut body 2 21
    add(body_2_21.part, mode=Mode.SUBTRACT)


with BuildPart() as body_2_22:
    # Sketch24 → Boss-Extrude24 (new body)
    with BuildSketch(Plane(origin=(0, 0, 0), x_dir=(0, 0, -1), z_dir=(1, 0, 0)).offset(BOSS_EXTRUDE24_START)):
        with Locations((-72, -54)):
            Circle(SKETCH24_R)
    extrude(amount=BOSS_EXTRUDE24_DEPTH)


with BuildPart() as part_22:
    add(part_21.part)

    # Combine22: cut body 2 22
    add(body_2_22.part, mode=Mode.SUBTRACT)


with BuildPart() as body_2_23:
    # Sketch25 → Boss-Extrude25 (new body)
    with BuildSketch(Plane.XY.offset(BOSS_EXTRUDE25_START)):
        with Locations((68.35, -46)):
            Rectangle(SKETCH25_W, SKETCH25_H)
    extrude(amount=BOSS_EXTRUDE25_DEPTH)


with BuildPart() as part_23:
    add(part_22.part)

    # Combine23: cut body 2 23
    add(body_2_23.part, mode=Mode.SUBTRACT)

    # Sketch26 → Boss-Extrude26 (add)
    with BuildSketch(Plane(origin=(0, 0, 0), x_dir=(1, 0, 0), z_dir=(0, 1, 0)).offset(BOSS_EXTRUDE26_START)):
        Polygon((70.6, -59), (70.6, -58), (64.4, -58), (64.4, -57.6), (63.8, -57.6), (63, -58.4), (63, -59), align=None)
    extrude(amount=BOSS_EXTRUDE26_DEPTH)


with BuildPart() as body_2_24:
    # Sketch27 → Boss-Extrude27 (new body)
    with BuildSketch(Plane.XY.offset(BOSS_EXTRUDE27_START)):
        with Locations((68.35, -46)):
            Rectangle(SKETCH27_W, SKETCH27_H)
    extrude(amount=BOSS_EXTRUDE27_DEPTH)


with BuildPart() as part_24:
    add(part_23.part)

    # Combine24: cut body 2 24
    add(body_2_24.part, mode=Mode.SUBTRACT)

    # Sketch28 → Boss-Extrude28 (add)
    with BuildSketch(Plane(origin=(0, 0, 0), x_dir=(1, 0, 0), z_dir=(0, 1, 0)).offset(BOSS_EXTRUDE28_START)):
        Polygon((70.6, -73), (70.6, -74), (64.4, -74), (64.4, -74.4), (63.8, -74.4), (63, -73.6), (63, -73), align=None)
    extrude(amount=BOSS_EXTRUDE28_DEPTH)


solid = part_24.part
